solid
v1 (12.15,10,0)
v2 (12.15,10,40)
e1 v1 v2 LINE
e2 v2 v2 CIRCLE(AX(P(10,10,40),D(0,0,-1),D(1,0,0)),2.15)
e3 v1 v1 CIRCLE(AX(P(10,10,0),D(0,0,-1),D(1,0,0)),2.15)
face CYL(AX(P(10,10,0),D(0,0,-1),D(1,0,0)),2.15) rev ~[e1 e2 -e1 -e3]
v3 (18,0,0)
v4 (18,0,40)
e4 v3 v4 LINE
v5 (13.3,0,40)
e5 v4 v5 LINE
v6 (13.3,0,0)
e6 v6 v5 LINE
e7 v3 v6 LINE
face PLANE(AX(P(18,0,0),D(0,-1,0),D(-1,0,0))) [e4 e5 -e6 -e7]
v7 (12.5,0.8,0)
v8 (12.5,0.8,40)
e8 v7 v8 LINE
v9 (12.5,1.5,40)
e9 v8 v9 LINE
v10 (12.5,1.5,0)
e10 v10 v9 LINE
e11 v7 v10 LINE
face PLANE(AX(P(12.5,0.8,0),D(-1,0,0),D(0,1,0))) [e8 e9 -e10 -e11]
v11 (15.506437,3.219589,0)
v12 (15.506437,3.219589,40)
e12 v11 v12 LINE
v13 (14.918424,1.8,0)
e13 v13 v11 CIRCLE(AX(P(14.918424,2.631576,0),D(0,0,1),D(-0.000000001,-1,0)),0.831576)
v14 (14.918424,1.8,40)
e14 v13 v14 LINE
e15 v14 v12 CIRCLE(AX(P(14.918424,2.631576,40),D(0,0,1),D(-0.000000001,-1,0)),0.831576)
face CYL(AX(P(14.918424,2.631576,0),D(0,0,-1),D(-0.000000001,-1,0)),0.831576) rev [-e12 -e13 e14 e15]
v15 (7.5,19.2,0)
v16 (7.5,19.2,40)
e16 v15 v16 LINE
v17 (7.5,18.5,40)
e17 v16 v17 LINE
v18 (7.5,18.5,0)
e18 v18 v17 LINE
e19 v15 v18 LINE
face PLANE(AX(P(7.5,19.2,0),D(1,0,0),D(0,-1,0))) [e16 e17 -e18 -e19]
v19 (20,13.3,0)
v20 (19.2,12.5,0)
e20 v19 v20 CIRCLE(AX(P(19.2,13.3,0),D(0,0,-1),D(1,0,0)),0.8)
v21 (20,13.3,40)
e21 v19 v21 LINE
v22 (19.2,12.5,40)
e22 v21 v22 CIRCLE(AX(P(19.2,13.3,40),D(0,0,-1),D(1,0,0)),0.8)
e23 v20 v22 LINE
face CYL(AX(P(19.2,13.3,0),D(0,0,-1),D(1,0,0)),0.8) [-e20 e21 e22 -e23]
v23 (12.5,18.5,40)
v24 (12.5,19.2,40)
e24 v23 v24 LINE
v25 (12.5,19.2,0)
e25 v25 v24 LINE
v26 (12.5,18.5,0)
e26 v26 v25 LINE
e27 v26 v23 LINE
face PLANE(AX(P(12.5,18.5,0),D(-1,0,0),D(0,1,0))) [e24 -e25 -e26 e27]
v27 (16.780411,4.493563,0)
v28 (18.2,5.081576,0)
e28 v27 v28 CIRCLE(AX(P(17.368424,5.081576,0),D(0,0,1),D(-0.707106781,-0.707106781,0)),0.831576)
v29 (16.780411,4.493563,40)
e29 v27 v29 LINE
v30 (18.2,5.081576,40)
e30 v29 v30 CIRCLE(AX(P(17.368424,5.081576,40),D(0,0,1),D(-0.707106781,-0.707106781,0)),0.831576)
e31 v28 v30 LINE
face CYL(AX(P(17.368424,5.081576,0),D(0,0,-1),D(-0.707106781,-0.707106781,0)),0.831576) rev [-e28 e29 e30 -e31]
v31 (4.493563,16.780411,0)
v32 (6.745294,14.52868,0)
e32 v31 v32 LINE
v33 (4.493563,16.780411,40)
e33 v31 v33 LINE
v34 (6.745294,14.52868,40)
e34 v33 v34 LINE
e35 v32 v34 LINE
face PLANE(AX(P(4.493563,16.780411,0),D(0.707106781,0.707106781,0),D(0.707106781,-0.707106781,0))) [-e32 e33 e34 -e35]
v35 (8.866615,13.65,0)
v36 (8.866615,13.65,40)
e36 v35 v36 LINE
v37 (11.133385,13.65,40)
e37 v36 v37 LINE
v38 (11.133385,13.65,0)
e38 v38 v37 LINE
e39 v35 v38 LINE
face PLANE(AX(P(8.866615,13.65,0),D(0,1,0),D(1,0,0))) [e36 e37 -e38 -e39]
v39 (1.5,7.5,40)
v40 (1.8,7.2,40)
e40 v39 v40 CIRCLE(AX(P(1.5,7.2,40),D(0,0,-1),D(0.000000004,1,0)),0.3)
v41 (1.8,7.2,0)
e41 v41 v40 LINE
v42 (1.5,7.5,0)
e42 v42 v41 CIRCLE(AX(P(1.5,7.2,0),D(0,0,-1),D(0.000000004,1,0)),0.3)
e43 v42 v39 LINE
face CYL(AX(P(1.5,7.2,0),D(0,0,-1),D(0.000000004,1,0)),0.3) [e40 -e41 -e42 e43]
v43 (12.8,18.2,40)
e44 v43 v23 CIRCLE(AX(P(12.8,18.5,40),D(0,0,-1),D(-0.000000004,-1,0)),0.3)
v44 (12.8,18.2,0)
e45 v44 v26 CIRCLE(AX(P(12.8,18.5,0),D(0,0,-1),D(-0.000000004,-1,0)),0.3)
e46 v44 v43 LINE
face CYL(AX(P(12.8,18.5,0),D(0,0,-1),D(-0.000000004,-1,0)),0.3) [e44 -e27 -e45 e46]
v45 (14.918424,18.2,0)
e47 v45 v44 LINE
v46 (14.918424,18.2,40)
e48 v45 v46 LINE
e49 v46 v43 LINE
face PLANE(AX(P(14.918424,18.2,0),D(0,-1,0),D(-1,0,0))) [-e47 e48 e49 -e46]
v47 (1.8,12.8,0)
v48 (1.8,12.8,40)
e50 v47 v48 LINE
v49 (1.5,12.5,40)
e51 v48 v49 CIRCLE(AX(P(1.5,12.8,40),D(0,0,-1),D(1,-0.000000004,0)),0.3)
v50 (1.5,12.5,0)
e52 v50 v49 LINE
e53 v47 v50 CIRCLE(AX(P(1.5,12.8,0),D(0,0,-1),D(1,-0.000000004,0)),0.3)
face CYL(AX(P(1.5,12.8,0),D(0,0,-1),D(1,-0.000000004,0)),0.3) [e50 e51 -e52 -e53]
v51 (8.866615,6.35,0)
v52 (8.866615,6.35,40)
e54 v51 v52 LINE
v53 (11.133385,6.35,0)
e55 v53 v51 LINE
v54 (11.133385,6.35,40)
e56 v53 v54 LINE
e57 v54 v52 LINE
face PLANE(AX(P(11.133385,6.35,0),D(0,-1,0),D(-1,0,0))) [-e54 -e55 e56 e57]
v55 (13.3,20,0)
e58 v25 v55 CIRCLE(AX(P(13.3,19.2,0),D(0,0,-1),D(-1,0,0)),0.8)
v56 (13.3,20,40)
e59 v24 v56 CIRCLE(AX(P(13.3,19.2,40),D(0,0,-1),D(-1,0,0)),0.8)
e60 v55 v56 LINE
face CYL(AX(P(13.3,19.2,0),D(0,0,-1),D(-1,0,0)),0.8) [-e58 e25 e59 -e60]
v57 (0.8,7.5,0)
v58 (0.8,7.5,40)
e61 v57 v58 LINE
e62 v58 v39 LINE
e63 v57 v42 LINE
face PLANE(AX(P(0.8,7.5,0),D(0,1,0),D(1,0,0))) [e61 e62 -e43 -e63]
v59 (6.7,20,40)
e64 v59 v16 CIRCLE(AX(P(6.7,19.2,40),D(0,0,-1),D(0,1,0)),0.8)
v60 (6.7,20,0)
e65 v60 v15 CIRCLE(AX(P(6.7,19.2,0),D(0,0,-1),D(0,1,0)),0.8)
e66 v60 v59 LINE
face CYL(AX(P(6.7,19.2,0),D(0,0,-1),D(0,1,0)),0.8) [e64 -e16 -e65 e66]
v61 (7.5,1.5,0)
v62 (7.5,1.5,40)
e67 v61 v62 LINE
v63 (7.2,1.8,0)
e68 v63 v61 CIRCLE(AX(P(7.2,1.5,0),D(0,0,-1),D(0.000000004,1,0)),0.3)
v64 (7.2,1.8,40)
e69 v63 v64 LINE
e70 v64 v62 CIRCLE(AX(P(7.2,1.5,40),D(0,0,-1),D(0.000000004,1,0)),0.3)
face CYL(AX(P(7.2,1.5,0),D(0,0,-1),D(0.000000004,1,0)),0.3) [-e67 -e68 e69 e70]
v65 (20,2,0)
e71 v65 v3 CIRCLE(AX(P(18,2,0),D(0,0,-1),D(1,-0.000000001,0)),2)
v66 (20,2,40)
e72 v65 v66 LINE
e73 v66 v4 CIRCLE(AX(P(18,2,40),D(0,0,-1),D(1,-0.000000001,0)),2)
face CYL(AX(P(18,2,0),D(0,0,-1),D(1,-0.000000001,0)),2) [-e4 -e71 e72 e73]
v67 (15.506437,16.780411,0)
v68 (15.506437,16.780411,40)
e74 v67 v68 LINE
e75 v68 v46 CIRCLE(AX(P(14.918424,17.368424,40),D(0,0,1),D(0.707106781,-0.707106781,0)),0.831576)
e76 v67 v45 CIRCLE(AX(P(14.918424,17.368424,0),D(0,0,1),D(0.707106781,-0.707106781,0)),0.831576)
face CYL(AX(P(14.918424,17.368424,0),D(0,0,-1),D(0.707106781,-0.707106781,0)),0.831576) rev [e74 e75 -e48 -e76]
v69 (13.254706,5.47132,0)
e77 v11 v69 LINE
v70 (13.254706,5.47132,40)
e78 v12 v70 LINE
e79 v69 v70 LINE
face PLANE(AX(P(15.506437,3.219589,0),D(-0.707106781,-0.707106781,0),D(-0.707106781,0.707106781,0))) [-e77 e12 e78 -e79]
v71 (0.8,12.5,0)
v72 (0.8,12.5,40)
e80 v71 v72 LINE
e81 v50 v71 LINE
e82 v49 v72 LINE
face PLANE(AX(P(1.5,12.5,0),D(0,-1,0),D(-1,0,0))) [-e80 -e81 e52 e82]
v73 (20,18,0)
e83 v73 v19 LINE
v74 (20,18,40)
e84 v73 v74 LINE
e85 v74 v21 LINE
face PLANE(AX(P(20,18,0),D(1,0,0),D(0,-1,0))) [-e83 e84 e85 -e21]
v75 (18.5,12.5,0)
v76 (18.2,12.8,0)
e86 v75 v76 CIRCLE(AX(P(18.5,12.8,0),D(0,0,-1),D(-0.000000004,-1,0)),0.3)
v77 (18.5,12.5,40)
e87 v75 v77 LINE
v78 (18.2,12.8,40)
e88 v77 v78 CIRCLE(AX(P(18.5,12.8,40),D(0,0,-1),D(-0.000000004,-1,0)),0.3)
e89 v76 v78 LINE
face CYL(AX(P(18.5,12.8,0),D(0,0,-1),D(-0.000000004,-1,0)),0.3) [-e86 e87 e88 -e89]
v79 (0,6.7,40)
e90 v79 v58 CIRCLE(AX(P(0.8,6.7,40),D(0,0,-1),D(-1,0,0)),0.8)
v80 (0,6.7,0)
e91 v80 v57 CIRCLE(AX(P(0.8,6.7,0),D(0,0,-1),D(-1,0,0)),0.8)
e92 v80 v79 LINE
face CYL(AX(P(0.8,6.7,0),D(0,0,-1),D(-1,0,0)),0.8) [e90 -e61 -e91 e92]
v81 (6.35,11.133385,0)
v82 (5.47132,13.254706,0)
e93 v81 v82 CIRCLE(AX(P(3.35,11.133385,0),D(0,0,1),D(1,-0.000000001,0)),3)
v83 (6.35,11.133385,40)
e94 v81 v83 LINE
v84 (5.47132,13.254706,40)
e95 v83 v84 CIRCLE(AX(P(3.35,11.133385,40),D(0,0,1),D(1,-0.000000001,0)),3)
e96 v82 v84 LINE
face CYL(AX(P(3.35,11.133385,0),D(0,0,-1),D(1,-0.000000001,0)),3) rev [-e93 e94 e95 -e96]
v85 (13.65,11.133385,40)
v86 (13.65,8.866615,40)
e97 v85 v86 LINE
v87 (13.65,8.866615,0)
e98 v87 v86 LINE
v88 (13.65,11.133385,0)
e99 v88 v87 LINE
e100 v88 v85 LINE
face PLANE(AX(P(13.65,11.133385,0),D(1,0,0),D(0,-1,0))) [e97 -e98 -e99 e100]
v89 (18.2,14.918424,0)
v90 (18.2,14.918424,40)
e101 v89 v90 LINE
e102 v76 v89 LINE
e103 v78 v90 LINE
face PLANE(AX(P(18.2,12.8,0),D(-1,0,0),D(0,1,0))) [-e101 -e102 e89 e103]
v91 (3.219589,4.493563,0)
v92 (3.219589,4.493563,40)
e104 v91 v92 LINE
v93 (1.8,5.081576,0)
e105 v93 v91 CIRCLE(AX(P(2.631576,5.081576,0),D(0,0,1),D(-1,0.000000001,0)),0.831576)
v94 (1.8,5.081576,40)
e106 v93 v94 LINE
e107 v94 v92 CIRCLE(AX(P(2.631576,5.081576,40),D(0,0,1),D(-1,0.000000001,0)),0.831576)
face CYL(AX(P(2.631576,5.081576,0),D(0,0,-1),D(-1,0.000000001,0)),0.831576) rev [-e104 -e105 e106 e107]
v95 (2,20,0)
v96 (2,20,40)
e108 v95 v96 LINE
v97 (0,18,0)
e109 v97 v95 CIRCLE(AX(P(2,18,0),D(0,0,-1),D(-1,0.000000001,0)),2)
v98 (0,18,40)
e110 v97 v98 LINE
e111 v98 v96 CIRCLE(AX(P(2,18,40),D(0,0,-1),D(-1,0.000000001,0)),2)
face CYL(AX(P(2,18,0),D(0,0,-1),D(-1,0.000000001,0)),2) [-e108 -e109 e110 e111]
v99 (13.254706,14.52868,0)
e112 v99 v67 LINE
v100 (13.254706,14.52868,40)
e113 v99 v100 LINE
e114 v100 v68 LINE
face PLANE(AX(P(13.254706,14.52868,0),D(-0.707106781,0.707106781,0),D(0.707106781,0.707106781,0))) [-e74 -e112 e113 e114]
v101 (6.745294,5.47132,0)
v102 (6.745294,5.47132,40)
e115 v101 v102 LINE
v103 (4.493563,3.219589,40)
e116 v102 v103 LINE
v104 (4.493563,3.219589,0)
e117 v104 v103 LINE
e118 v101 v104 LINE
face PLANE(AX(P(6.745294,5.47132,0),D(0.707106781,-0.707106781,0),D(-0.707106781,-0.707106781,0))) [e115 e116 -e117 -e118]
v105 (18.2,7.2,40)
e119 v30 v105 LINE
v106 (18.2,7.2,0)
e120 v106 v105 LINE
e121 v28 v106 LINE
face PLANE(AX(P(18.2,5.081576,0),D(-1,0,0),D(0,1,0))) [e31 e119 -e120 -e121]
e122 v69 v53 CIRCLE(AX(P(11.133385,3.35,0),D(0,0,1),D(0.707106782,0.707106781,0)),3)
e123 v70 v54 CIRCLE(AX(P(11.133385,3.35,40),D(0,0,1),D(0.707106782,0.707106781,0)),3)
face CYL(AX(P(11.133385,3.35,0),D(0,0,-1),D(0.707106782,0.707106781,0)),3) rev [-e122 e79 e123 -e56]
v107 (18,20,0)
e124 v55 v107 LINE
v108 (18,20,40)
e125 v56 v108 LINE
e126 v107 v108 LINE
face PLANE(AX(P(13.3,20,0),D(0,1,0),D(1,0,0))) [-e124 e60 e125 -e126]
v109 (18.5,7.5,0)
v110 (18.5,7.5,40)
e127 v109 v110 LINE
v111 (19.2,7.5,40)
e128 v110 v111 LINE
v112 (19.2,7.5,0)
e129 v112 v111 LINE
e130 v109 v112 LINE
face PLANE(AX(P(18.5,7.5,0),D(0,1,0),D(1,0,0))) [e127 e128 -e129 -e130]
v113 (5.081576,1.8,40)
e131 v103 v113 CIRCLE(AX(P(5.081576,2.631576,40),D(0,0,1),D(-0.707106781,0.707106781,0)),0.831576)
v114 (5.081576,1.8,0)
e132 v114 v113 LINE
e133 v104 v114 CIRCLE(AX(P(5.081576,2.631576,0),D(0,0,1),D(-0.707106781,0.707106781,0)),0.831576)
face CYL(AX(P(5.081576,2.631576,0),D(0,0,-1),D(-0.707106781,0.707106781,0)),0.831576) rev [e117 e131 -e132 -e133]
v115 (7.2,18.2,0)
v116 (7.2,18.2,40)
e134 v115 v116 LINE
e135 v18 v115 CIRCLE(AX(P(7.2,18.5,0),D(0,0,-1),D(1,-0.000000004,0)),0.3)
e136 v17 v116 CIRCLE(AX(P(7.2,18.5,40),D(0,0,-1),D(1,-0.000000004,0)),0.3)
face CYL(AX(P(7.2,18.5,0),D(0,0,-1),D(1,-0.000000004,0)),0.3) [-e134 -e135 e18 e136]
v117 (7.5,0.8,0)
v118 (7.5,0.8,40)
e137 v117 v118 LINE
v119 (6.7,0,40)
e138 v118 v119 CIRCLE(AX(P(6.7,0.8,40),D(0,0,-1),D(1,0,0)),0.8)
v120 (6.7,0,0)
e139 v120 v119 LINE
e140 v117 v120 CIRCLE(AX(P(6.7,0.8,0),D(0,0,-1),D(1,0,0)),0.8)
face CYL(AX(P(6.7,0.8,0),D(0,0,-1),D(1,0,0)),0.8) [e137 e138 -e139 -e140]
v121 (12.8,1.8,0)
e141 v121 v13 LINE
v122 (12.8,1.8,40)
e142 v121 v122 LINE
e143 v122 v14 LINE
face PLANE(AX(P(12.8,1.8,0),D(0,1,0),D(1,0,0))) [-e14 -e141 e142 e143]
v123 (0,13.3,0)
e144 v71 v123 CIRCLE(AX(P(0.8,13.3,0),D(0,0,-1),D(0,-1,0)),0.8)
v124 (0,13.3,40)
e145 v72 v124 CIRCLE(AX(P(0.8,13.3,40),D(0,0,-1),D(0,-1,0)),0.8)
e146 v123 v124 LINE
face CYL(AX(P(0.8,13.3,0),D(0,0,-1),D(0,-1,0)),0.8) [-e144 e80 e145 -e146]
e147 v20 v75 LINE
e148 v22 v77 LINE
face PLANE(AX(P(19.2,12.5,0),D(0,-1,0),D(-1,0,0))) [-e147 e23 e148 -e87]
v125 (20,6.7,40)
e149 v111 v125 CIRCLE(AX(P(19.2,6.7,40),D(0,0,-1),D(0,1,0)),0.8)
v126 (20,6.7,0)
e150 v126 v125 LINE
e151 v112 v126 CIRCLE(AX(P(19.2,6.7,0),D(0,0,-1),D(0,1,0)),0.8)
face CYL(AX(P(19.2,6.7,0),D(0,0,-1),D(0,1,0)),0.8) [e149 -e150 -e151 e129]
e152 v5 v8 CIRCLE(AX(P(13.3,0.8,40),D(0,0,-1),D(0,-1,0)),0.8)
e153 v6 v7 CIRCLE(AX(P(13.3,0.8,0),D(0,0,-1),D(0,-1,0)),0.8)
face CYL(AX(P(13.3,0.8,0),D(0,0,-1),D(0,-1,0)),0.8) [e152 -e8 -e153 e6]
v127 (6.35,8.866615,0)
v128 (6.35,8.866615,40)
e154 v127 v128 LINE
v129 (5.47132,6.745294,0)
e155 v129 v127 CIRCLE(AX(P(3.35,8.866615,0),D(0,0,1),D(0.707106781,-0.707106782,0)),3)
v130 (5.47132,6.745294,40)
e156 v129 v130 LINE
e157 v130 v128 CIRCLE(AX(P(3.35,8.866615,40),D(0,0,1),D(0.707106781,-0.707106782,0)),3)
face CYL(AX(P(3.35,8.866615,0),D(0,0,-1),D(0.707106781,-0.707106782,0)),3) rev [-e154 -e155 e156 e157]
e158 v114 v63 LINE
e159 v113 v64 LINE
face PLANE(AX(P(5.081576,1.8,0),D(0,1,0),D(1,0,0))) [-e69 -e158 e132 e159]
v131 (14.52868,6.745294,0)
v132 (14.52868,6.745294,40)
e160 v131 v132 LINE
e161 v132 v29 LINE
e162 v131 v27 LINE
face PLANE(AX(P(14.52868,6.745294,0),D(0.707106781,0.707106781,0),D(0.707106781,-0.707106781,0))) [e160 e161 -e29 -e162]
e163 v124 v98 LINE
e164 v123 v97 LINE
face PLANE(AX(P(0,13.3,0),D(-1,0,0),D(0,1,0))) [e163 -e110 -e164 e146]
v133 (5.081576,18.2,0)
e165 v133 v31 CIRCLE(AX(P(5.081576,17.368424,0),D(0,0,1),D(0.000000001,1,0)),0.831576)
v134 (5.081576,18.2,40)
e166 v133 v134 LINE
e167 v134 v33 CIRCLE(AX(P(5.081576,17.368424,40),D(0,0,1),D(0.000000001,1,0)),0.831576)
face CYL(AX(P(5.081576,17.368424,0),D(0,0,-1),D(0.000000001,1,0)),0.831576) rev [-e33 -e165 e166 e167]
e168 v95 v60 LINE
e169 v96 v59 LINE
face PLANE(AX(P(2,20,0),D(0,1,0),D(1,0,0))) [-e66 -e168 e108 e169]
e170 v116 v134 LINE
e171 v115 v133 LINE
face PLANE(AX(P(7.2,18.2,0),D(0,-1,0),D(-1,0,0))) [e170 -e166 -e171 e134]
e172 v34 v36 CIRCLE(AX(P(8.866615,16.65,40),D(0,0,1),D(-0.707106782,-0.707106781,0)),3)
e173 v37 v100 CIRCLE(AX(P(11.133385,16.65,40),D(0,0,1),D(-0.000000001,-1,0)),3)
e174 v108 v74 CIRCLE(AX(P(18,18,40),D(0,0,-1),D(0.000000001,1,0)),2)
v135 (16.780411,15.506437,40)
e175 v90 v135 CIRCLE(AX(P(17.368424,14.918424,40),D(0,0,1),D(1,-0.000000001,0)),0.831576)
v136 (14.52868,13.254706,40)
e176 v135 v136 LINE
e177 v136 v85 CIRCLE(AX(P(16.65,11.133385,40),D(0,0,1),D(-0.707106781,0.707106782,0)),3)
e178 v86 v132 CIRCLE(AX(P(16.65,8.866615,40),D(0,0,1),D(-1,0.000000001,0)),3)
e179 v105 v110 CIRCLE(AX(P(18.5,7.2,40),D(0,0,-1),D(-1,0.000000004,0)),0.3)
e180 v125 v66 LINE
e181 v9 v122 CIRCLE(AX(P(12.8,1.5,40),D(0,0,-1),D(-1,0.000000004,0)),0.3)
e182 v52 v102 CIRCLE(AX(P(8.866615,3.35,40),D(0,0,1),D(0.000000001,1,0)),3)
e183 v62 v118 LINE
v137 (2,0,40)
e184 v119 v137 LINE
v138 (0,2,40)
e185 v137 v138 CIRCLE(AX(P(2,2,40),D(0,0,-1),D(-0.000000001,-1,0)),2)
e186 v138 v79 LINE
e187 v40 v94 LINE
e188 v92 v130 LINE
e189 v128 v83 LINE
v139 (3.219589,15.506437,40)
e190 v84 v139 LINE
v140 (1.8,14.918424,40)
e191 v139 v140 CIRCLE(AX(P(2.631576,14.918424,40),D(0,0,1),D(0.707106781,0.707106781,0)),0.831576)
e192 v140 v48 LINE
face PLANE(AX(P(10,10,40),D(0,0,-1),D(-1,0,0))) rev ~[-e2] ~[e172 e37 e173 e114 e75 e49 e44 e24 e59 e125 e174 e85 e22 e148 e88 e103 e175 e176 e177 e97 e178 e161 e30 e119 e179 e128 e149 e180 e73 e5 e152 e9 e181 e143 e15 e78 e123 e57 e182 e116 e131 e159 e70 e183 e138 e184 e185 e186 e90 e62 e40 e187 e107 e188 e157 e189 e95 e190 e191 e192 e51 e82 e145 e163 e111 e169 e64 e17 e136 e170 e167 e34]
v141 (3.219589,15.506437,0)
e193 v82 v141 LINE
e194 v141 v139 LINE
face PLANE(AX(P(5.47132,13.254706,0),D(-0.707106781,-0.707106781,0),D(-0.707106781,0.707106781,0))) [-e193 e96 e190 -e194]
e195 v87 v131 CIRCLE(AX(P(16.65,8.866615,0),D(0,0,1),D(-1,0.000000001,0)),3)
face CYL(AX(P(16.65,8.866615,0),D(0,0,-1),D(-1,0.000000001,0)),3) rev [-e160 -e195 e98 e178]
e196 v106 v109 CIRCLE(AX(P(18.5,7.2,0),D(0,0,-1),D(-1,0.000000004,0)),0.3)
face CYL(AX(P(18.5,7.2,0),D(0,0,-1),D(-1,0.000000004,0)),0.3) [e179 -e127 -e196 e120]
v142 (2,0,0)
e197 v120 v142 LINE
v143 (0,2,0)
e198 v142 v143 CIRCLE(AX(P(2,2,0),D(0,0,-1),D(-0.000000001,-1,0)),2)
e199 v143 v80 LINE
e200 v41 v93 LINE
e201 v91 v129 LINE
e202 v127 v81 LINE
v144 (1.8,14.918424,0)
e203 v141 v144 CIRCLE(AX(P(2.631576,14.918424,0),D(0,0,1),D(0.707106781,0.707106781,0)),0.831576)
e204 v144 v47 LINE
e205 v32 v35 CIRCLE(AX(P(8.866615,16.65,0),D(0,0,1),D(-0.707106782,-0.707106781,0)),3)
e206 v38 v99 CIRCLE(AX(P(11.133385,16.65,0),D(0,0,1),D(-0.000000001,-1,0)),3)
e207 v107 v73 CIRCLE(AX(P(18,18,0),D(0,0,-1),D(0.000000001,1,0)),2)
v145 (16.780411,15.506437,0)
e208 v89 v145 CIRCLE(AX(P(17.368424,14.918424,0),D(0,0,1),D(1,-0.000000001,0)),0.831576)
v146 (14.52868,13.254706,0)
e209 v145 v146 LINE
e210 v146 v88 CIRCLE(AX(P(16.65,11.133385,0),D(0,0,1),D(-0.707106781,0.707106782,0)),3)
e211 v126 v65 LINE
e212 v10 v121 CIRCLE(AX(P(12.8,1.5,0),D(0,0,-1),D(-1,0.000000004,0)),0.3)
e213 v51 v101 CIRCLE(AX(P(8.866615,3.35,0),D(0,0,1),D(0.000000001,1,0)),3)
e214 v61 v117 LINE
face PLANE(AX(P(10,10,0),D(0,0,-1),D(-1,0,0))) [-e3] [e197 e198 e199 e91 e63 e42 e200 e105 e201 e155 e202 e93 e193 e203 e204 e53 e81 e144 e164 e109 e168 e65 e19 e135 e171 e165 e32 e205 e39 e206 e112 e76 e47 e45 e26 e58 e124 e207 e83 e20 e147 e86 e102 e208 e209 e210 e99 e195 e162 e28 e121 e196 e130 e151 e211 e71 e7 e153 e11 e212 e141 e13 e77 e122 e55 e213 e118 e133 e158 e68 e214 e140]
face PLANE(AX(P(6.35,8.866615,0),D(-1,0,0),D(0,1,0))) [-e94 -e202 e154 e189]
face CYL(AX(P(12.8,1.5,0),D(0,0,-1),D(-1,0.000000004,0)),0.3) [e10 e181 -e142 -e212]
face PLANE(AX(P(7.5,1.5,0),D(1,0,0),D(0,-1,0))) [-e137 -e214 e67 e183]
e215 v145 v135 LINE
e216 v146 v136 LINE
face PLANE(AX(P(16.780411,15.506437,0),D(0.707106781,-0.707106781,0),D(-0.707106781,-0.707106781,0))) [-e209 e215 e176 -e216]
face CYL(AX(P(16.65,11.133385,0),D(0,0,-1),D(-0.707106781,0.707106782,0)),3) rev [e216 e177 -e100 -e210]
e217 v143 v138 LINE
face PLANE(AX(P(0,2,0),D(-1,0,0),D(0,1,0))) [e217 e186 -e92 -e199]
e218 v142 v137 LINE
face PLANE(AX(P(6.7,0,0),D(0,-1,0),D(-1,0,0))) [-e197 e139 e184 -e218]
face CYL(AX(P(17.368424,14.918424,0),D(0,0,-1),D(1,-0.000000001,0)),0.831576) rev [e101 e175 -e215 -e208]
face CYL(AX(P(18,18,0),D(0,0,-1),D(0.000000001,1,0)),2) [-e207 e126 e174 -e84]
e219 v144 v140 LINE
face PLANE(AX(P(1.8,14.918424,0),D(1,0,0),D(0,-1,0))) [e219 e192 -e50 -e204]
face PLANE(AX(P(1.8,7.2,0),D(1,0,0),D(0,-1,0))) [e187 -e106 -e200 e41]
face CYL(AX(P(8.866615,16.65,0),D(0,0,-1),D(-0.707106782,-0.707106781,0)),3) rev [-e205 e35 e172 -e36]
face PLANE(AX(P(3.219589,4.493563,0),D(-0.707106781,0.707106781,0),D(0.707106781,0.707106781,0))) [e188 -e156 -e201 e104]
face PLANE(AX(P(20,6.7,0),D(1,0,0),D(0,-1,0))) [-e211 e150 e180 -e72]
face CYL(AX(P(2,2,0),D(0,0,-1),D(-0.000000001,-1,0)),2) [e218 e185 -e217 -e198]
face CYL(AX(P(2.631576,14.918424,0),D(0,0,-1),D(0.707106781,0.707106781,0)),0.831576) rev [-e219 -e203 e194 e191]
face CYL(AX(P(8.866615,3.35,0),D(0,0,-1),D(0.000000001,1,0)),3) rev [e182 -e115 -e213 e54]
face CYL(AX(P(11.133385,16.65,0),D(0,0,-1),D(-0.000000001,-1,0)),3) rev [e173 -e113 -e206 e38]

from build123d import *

# Parameters (mm, degrees)
ESQUISSE1_R      = 2.15
EXTRUSION1_DEPTH = 40


with BuildPart() as part:
    # Esquisse1 → Extrusion1 (new body)
    with BuildSketch(Plane(origin=(0, 0, 0), x_dir=(-1, 0, 0), z_dir=(0, 0, -1))):
        with BuildLine():
            Line((-18, 0), (-13.3, 0))
            ThreePointArc((-13.3, 0), (-12.734314575, 0.234314575), (-12.5, 0.8))
            Line((-12.5, 0.8), (-12.5, 1.5))
            ThreePointArc((-12.5, 1.5), (-12.587867966, 1.712132034), (-12.8, 1.8))
            Line((-12.8, 1.8), (-14.918424061, 1.8))
            ThreePointArc((-14.918424061, 1.8), (-15.686700051, 2.313345604), (-15.506437047, 3.219588924))
            Line((-15.506437047, 3.219588924), (-13.254705627, 5.471320344))
            ThreePointArc((-13.254705627, 5.471320344), (-12.281435581, 6.121638598), (-11.133385284, 6.35))
            Line((-11.133385284, 6.35), (-8.866614716, 6.35))
            ThreePointArc((-8.866614716, 6.35), (-7.718564419, 6.121638598), (-6.745294373, 5.471320344))
            Line((-6.745294373, 5.471320344), (-4.493562953, 3.219588924))
            ThreePointArc((-4.493562953, 3.219588924), (-4.313299949, 2.313345604), (-5.081575939, 1.8))
            Line((-5.081575939, 1.8), (-7.2, 1.8))
            ThreePointArc((-7.2, 1.8), (-7.412132034, 1.712132034), (-7.5, 1.5))
            Line((-7.5, 1.5), (-7.5, 0.8))
            ThreePointArc((-7.5, 0.8), (-7.265685425, 0.234314575), (-6.7, 0))
            Line((-6.7, 0), (-2, 0))
            ThreePointArc((-2, 0), (-0.585786438, 0.585786438), (0, 2))
            Line((0, 2), (0, 6.7))
            ThreePointArc((0, 6.7), (-0.234314575, 7.265685425), (-0.8, 7.5))
            Line((-0.8, 7.5), (-1.5, 7.5))
            ThreePointArc((-1.5, 7.5), (-1.712132034, 7.412132034), (-1.8, 7.2))
            Line((-1.8, 7.2), (-1.8, 5.081575939))
            ThreePointArc((-1.8, 5.081575939), (-2.313345604, 4.313299949), (-3.219588924, 4.493562953))
            Line((-3.219588924, 4.493562953), (-5.471320344, 6.745294373))
            ThreePointArc((-5.471320344, 6.745294373), (-6.121638598, 7.718564419), (-6.35, 8.866614716))
            Line((-6.35, 8.866614716), (-6.35, 11.133385284))
            ThreePointArc((-6.35, 11.133385284), (-6.121638598, 12.281435581), (-5.471320344, 13.254705627))
            Line((-5.471320344, 13.254705627), (-3.219588924, 15.506437047))
            ThreePointArc((-3.219588924, 15.506437047), (-2.313345604, 15.686700051), (-1.8, 14.918424061))
            Line((-1.8, 14.918424061), (-1.8, 12.8))
            ThreePointArc((-1.8, 12.8), (-1.712132034, 12.587867966), (-1.5, 12.5))
            Line((-1.5, 12.5), (-0.8, 12.5))
            ThreePointArc((-0.8, 12.5), (-0.234314575, 12.734314575), (0, 13.3))
            Line((0, 13.3), (0, 18))
            ThreePointArc((0, 18), (-0.585786438, 19.414213562), (-2, 20))
            Line((-2, 20), (-6.7, 20))
            ThreePointArc((-6.7, 20), (-7.265685425, 19.765685425), (-7.5, 19.2))
            Line((-7.5, 19.2), (-7.5, 18.5))
            ThreePointArc((-7.5, 18.5), (-7.412132034, 18.287867966), (-7.2, 18.2))
            Line((-7.2, 18.2), (-5.081575939, 18.2))
            ThreePointArc((-5.081575939, 18.2), (-4.313299949, 17.686654396), (-4.493562953, 16.780411076))
            Line((-4.493562953, 16.780411076), (-6.745294373, 14.528679656))
            ThreePointArc((-6.745294373, 14.528679656), (-7.718564419, 13.878361402), (-8.866614716, 13.65))
            Line((-8.866614716, 13.65), (-11.133385284, 13.65))
            ThreePointArc((-11.133385284, 13.65), (-12.281435581, 13.878361402), (-13.254705627, 14.528679656))
            Line((-13.254705627, 14.528679656), (-15.506437047, 16.780411076))
            ThreePointArc((-15.506437047, 16.780411076), (-15.686700051, 17.686654396), (-14.918424061, 18.2))
            Line((-14.918424061, 18.2), (-12.8, 18.2))
            ThreePointArc((-12.8, 18.2), (-12.587867966, 18.287867966), (-12.5, 18.5))
            Line((-12.5, 18.5), (-12.5, 19.2))
            ThreePointArc((-12.5, 19.2), (-12.734314575, 19.765685425), (-13.3, 20))
            Line((-13.3, 20), (-18, 20))
            ThreePointArc((-18, 20), (-19.414213562, 19.414213562), (-20, 18))
            Line((-20, 18), (-20, 13.3))
            ThreePointArc((-20, 13.3), (-19.765685425, 12.734314575), (-19.2, 12.5))
            Line((-19.2, 12.5), (-18.5, 12.5))
            ThreePointArc((-18.5, 12.5), (-18.287867966, 12.587867966), (-18.2, 12.8))
            Line((-18.2, 12.8), (-18.2, 14.918424061))
            ThreePointArc((-18.2, 14.918424061), (-17.686654396, 15.686700051), (-16.780411076, 15.506437047))
            Line((-16.780411076, 15.506437047), (-14.528679656, 13.254705627))
            ThreePointArc((-14.528679656, 13.254705627), (-13.878361402, 12.281435581), (-13.65, 11.133385284))
            Line((-13.65, 11.133385284), (-13.65, 8.866614716))
            ThreePointArc((-13.65, 8.866614716), (-13.878361402, 7.718564419), (-14.528679656, 6.745294373))
            Line((-14.528679656, 6.745294373), (-16.780411076, 4.493562953))
            ThreePointArc((-16.780411076, 4.493562953), (-17.686654396, 4.313299949), (-18.2, 5.081575939))
            Line((-18.2, 5.081575939), (-18.2, 7.2))
            ThreePointArc((-18.2, 7.2), (-18.287867966, 7.412132034), (-18.5, 7.5))
            Line((-18.5, 7.5), (-19.2, 7.5))
            ThreePointArc((-19.2, 7.5), (-19.765685425, 7.265685425), (-20, 6.7))
            Line((-20, 6.7), (-20, 2))
            ThreePointArc((-20, 2), (-19.414213562, 0.585786438), (-18, 0))
        make_face()
        with Locations(Location((-10, 10, 0), (0, 0, 180))):
            Circle(ESQUISSE1_R, mode=Mode.SUBTRACT)
    extrude(amount=-EXTRUSION1_DEPTH)


solid = part.part
